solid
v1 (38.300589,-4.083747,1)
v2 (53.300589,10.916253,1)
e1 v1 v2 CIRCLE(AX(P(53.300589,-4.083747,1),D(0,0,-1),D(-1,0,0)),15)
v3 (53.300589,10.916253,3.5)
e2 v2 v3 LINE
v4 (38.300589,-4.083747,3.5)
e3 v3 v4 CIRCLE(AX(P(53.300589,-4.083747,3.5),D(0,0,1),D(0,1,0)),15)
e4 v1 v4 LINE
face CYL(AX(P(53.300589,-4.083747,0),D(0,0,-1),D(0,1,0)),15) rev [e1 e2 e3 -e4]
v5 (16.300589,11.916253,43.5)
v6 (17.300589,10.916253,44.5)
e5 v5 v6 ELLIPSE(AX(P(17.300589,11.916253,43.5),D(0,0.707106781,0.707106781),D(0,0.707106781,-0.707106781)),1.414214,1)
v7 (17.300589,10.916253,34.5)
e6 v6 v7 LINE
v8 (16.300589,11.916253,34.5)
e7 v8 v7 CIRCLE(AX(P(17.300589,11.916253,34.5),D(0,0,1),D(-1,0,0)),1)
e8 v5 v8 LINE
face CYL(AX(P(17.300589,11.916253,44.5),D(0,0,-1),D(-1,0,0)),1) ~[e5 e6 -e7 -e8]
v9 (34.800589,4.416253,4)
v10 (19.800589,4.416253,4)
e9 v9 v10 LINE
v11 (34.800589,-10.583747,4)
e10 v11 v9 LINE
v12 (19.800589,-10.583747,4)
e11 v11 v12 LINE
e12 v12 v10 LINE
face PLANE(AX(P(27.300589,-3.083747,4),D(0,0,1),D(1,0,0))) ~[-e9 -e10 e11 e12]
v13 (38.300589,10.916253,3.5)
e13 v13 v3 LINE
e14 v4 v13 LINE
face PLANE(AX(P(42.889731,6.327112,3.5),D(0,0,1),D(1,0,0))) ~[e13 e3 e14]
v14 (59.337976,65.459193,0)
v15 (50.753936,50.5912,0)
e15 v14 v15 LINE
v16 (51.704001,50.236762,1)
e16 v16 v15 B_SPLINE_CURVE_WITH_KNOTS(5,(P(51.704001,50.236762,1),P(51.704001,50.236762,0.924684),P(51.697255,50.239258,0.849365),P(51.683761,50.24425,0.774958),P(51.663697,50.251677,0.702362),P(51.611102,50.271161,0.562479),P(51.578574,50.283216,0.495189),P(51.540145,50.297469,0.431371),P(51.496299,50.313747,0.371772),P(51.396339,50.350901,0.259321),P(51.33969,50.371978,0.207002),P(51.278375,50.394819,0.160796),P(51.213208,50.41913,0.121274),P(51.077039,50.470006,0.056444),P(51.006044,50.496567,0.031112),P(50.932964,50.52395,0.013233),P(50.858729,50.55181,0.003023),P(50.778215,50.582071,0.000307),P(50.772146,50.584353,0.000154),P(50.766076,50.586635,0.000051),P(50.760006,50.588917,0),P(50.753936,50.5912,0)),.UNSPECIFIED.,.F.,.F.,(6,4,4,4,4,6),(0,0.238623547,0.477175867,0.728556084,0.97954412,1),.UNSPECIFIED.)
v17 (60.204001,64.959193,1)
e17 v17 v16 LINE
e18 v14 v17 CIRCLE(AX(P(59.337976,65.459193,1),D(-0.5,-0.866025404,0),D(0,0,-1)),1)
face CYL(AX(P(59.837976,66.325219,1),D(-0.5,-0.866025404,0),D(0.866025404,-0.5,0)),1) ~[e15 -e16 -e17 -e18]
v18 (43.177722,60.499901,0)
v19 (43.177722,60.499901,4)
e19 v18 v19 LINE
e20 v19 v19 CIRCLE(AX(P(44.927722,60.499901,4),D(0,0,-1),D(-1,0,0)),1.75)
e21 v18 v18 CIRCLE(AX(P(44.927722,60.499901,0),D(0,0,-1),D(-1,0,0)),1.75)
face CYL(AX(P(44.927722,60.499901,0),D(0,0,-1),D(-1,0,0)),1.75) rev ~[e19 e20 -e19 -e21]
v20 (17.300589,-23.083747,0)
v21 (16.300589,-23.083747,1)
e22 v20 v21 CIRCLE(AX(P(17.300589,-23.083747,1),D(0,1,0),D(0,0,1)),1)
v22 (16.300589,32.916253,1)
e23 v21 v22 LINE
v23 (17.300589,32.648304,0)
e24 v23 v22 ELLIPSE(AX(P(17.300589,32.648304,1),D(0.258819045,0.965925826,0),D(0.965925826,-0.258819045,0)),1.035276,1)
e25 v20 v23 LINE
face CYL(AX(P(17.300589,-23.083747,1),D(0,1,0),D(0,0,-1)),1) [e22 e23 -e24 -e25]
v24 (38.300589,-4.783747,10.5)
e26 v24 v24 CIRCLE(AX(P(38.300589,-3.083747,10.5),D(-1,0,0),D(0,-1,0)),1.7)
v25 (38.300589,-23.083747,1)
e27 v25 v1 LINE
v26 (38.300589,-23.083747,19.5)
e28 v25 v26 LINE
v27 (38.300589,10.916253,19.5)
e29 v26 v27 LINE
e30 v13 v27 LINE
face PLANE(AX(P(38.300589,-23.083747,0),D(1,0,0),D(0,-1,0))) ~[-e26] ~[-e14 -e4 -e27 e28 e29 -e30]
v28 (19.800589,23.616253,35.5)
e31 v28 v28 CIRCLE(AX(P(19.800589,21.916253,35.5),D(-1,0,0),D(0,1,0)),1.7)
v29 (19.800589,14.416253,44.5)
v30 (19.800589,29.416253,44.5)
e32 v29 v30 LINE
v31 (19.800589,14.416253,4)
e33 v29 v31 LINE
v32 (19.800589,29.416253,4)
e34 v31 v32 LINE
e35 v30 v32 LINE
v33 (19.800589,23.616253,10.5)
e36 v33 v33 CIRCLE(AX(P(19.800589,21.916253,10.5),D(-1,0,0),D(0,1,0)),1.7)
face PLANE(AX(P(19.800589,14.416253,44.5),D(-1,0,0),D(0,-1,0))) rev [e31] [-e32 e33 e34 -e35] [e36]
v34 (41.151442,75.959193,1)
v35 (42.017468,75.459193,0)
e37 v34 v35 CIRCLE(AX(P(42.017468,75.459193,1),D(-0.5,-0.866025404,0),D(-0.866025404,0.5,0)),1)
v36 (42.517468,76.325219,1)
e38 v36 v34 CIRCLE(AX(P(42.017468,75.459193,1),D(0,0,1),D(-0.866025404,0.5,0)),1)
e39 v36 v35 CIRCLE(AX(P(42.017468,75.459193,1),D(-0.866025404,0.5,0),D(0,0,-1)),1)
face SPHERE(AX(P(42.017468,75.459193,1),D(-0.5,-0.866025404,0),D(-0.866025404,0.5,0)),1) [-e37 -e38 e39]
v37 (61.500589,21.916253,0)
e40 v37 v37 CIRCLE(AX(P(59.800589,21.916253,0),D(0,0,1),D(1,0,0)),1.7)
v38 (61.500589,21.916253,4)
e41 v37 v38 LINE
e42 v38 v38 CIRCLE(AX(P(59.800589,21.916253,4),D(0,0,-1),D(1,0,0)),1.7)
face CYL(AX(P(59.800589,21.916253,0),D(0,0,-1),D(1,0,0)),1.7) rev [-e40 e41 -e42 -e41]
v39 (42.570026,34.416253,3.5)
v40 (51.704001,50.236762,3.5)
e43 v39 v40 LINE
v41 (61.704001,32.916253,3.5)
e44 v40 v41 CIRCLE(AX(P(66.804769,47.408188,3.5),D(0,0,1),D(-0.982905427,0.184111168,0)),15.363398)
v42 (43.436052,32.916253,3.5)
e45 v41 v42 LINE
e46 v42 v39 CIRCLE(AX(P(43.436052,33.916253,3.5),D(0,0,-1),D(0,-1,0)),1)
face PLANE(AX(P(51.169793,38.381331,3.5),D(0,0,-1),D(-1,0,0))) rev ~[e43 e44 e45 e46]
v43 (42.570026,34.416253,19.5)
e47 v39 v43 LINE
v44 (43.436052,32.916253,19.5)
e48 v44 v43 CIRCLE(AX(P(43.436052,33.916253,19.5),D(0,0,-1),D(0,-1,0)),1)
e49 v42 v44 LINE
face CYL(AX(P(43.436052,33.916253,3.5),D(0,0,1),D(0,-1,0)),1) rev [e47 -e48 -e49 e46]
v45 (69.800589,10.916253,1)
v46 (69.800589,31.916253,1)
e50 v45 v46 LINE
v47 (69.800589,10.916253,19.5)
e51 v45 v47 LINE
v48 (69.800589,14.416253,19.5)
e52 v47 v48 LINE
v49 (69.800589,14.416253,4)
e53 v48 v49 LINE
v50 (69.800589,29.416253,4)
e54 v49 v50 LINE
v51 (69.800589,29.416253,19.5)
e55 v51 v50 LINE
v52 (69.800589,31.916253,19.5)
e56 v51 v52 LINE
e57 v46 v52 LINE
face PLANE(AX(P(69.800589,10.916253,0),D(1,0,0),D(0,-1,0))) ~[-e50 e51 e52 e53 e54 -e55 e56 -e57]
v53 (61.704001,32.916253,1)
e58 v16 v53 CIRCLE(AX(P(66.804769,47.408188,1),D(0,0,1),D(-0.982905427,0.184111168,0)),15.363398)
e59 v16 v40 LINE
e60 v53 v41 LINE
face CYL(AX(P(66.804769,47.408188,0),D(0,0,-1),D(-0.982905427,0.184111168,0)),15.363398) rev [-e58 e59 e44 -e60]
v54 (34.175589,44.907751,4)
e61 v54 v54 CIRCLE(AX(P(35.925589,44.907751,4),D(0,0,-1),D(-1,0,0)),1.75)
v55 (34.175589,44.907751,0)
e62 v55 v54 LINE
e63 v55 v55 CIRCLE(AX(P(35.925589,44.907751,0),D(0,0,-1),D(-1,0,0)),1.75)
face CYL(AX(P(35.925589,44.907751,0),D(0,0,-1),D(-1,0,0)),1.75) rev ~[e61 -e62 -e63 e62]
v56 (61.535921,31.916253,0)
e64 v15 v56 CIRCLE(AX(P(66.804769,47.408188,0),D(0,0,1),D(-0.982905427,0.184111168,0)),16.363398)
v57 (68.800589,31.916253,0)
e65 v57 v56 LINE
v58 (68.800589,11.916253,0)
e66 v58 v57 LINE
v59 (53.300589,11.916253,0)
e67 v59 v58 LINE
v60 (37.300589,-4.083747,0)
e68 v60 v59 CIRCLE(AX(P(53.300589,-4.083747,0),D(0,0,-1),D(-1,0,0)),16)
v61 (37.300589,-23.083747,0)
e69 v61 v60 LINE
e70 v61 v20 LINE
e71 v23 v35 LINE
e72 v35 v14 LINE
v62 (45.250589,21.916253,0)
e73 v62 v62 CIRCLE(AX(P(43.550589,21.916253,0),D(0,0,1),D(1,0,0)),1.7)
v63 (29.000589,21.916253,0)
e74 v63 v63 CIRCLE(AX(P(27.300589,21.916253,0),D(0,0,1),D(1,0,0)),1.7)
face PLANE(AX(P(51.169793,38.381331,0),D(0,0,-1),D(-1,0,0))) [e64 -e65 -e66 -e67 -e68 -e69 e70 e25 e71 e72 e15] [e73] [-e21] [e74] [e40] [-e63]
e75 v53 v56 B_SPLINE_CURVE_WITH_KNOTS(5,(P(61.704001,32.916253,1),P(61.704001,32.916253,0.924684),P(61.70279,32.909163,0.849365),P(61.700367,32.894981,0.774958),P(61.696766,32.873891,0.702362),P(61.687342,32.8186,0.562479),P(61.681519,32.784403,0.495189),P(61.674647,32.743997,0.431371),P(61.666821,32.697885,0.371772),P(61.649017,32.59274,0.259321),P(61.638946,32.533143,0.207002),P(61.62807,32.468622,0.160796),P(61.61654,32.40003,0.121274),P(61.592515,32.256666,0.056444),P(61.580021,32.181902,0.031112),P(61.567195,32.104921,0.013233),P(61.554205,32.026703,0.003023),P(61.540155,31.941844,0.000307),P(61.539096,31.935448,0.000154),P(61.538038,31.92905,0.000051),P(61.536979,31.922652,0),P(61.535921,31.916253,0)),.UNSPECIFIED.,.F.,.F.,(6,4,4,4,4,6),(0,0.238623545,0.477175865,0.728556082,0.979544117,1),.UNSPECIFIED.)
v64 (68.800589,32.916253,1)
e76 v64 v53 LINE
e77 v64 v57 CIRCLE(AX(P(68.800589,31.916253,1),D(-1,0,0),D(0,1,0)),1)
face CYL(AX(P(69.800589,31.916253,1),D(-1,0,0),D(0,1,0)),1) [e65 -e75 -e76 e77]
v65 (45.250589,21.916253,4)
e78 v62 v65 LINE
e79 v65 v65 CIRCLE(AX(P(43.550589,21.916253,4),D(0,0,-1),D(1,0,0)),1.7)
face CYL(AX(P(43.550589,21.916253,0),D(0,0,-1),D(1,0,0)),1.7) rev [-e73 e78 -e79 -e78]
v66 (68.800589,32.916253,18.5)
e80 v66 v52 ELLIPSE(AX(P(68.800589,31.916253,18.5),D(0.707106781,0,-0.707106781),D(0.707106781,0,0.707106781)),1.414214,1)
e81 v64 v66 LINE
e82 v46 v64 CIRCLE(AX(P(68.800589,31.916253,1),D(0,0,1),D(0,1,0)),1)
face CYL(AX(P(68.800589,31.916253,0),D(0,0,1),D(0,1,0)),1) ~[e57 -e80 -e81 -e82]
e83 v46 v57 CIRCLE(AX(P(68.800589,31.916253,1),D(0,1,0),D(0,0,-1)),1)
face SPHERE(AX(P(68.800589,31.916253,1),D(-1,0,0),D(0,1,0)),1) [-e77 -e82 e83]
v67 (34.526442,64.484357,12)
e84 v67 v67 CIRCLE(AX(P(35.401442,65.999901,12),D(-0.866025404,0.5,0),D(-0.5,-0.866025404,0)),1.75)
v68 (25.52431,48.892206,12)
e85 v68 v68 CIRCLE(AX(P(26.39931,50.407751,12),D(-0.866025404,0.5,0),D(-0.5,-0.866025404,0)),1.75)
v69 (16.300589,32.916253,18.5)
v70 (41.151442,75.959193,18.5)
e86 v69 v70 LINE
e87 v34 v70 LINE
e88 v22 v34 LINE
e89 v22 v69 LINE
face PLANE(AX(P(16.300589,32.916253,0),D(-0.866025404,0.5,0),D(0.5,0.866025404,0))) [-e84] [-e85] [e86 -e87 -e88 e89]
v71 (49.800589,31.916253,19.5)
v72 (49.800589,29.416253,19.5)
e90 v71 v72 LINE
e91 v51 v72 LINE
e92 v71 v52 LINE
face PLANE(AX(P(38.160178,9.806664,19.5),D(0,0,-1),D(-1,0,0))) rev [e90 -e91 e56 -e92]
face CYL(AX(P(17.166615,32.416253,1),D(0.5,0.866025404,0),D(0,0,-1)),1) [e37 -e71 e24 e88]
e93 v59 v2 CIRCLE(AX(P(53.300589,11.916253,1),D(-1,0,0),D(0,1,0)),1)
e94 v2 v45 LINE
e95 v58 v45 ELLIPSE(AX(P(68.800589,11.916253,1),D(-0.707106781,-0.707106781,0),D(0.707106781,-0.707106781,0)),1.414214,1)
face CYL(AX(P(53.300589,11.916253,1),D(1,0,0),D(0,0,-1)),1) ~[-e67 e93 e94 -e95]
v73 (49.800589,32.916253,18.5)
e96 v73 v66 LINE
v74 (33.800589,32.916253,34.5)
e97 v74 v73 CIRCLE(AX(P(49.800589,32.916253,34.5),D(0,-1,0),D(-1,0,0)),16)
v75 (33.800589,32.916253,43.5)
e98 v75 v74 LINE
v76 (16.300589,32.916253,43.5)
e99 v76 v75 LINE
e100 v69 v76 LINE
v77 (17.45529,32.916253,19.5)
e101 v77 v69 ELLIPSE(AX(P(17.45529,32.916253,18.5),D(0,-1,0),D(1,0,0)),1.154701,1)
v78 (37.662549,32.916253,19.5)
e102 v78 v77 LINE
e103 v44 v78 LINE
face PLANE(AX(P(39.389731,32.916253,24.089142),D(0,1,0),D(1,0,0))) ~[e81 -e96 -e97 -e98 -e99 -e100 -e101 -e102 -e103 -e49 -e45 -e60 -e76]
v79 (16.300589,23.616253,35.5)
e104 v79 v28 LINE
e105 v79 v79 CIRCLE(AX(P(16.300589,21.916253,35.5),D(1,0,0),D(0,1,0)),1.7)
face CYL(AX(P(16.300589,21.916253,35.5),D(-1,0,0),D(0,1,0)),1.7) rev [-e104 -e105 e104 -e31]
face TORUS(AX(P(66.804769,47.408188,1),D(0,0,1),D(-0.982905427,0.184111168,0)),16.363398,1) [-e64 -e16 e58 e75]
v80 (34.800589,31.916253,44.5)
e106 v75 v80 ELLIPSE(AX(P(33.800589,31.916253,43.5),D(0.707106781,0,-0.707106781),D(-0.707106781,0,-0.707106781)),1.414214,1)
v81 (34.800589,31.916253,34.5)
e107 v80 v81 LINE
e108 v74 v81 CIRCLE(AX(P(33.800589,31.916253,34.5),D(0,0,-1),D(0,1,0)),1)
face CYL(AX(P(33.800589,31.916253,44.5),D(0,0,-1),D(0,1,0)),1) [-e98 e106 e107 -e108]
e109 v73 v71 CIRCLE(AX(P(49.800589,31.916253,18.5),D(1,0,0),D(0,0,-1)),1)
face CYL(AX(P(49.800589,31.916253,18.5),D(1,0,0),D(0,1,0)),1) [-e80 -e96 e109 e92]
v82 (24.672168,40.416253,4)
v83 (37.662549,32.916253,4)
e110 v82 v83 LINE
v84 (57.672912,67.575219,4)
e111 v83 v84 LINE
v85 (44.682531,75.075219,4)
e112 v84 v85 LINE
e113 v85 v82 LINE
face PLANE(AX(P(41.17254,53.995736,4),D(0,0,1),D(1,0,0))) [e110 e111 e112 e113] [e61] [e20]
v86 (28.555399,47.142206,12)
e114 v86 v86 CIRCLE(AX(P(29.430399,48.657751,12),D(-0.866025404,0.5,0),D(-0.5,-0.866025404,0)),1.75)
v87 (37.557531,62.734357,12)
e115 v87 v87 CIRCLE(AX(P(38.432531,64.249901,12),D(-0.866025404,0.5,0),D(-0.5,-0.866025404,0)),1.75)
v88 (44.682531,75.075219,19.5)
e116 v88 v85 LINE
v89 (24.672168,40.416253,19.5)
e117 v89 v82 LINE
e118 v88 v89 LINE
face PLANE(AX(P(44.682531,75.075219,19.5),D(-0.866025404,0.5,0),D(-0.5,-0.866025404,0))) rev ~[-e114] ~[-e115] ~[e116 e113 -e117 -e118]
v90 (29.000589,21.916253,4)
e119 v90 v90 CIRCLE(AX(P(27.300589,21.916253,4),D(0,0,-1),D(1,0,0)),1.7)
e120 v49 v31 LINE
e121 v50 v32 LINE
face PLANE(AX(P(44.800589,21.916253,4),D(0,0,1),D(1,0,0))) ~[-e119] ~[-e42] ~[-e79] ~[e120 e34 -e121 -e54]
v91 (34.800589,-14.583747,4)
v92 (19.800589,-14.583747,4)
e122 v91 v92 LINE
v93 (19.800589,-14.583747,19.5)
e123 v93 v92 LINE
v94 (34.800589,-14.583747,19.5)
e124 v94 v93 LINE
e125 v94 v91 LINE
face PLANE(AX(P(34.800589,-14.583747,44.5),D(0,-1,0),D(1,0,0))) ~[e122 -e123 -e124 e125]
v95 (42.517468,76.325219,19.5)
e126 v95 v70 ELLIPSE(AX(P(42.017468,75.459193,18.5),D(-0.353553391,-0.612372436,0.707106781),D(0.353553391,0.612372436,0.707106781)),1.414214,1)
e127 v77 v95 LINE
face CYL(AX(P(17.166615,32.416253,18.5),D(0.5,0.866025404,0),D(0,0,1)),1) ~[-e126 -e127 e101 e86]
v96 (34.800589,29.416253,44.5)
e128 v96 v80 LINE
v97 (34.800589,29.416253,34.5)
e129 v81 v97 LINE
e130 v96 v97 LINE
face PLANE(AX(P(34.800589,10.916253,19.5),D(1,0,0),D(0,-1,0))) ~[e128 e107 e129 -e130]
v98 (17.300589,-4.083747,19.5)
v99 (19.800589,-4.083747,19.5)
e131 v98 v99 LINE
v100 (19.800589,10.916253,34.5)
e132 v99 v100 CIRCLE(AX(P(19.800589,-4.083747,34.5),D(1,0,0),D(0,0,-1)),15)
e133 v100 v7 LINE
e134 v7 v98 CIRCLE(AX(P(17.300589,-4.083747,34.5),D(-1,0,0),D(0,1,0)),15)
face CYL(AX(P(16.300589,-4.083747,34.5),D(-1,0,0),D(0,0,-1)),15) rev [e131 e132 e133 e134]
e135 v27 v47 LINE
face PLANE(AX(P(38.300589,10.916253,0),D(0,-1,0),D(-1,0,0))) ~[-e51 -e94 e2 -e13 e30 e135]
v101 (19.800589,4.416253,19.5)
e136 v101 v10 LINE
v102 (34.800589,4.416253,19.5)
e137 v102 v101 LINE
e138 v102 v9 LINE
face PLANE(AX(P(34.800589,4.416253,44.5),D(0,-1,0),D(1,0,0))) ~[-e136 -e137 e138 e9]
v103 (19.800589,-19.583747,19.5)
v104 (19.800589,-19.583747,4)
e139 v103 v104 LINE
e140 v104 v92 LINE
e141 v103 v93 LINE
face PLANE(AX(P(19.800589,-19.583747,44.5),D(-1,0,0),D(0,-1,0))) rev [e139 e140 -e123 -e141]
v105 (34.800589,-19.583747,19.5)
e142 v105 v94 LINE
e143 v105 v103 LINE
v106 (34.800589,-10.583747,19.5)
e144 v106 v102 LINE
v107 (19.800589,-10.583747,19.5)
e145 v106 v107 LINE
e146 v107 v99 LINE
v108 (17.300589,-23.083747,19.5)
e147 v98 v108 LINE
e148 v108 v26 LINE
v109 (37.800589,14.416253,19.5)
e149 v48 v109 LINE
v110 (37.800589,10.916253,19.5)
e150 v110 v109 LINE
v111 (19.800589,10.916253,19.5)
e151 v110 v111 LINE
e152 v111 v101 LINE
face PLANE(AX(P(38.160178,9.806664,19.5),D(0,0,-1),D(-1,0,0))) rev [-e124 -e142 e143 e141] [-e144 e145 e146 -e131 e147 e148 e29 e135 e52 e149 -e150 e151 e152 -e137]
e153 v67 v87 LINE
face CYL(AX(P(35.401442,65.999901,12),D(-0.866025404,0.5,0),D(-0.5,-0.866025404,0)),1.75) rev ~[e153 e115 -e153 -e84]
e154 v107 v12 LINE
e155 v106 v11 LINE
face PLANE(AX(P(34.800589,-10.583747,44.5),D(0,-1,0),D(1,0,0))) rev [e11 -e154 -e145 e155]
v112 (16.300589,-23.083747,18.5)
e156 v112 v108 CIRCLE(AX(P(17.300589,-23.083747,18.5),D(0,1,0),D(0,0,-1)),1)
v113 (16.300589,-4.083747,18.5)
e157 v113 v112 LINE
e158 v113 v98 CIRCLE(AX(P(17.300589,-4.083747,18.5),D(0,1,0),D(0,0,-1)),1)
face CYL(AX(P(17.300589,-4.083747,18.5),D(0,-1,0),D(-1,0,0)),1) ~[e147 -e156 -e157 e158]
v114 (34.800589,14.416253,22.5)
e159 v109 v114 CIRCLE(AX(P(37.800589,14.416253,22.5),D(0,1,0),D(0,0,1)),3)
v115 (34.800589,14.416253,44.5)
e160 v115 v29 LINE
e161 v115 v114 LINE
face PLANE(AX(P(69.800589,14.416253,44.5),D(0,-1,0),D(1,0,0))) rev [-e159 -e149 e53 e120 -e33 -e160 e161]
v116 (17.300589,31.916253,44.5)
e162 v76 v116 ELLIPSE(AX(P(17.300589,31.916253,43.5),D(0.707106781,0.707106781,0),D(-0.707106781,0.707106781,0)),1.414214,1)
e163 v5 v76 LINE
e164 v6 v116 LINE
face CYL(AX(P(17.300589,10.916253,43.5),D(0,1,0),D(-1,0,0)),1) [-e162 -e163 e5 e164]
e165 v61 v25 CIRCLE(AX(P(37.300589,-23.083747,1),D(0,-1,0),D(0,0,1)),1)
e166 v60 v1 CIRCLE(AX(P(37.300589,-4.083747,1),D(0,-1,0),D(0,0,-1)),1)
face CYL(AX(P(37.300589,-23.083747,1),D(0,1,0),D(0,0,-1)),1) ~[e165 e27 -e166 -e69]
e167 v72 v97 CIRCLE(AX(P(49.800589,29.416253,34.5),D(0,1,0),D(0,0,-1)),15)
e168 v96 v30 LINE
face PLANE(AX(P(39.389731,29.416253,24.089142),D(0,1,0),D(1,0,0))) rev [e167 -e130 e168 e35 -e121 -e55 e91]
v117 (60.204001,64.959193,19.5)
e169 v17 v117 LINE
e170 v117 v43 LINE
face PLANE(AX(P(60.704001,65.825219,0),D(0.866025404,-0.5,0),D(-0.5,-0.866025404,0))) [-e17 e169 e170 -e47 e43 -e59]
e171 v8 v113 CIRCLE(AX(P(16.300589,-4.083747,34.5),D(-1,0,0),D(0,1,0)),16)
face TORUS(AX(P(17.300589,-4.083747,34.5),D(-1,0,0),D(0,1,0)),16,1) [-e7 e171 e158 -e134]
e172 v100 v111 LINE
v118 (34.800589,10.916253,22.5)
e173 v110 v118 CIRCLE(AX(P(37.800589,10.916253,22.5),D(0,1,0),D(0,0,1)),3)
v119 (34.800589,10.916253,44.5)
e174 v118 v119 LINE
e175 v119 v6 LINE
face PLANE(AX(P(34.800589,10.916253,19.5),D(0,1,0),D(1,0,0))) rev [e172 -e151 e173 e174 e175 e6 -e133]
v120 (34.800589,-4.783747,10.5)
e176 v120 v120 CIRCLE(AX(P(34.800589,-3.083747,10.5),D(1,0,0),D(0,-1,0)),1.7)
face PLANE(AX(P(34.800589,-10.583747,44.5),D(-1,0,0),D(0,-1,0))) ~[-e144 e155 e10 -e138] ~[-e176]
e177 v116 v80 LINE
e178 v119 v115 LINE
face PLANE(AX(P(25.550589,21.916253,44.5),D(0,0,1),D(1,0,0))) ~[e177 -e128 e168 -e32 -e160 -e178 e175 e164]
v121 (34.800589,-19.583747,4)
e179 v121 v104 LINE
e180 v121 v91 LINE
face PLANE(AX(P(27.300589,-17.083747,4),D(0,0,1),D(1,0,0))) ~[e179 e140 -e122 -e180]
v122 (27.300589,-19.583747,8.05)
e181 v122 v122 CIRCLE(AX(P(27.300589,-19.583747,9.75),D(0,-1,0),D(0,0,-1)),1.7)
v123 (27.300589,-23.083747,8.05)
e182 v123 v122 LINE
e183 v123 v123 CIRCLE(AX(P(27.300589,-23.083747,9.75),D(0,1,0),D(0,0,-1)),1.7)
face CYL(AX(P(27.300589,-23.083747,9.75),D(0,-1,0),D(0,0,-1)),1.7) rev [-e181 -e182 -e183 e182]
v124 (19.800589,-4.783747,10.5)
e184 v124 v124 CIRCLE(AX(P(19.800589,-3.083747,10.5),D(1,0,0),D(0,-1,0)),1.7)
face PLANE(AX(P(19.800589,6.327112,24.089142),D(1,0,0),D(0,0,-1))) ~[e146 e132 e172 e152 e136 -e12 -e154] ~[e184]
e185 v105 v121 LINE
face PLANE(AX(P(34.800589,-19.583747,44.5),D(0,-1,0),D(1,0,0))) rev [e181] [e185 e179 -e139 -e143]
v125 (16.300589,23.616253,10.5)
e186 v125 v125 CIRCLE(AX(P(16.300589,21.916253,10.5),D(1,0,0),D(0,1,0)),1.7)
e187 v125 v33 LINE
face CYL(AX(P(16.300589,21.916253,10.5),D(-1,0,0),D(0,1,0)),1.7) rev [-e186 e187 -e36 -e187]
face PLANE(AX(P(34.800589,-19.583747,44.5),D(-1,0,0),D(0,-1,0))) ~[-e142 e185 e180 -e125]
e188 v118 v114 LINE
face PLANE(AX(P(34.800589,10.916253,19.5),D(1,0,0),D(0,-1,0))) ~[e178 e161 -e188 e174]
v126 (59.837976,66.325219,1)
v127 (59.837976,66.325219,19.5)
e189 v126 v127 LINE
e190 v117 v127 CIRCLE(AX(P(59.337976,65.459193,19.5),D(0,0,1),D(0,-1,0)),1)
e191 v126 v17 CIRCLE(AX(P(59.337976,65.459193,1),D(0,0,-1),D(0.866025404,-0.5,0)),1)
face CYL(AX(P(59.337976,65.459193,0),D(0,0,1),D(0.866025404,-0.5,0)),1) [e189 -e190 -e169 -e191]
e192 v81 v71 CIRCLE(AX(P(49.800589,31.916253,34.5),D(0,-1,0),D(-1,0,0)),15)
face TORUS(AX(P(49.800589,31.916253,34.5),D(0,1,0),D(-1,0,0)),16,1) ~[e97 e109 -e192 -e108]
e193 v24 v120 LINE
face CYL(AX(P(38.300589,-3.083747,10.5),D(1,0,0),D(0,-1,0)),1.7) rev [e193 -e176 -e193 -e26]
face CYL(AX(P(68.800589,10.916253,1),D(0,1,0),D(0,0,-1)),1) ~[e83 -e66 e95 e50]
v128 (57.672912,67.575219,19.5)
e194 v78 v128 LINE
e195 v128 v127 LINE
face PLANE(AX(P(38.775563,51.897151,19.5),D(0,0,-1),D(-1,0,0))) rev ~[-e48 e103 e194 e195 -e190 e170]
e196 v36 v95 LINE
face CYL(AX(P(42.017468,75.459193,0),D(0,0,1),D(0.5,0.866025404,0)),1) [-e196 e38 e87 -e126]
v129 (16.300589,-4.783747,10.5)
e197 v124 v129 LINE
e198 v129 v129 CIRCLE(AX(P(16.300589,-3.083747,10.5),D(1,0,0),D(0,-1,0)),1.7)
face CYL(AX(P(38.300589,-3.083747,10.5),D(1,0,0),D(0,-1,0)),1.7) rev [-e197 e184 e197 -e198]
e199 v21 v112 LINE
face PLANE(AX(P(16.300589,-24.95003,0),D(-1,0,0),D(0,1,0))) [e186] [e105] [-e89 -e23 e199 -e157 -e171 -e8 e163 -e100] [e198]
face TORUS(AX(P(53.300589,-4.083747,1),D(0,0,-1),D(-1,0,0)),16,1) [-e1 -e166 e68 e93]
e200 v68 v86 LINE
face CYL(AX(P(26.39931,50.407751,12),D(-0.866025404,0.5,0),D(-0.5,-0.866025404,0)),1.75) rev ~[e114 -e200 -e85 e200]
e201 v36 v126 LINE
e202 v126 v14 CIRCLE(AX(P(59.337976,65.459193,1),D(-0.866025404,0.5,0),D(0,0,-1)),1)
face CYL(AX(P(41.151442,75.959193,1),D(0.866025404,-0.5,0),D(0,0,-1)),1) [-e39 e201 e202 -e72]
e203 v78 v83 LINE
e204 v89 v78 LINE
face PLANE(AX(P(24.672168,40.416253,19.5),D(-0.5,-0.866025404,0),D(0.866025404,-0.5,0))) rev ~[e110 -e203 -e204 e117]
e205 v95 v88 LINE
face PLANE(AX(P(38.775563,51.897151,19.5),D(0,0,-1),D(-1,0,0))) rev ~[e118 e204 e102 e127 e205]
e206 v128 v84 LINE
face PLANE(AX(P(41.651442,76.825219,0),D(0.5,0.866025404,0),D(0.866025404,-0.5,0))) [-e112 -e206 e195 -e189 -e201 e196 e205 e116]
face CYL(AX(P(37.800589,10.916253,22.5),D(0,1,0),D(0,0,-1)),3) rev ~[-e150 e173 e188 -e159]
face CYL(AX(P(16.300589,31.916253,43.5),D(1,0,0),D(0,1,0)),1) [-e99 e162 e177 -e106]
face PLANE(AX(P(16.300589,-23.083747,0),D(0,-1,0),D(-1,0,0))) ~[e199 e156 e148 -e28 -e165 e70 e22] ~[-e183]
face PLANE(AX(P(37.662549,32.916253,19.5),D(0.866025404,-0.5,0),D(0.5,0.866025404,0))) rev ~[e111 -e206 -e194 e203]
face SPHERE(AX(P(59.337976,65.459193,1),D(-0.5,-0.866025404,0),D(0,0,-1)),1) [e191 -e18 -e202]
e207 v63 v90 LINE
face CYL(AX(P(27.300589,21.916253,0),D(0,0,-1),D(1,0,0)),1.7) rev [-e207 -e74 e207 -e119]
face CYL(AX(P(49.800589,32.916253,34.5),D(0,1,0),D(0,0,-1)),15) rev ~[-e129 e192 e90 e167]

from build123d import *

# Parameters (mm, degrees)
BOSS_EXTRUDE1_DEPTH  = 19.5
SKETCH3_W            = 18.5
SKETCH3_H            = 22
BOSS_EXTRUDE2_DEPTH  = 25
SKETCH5_W            = 50
SKETCH5_H            = 15
SKETCH5_W_2          = 15
SKETCH5_H_2          = 5
CUT_EXTRUDE1_DEPTH   = 40.5
BOSS_EXTRUDE4_DEPTH  = 3.5
BOSS_EXTRUDE5_DEPTH  = 3.5
BOSS_EXTRUDE6_DEPTH  = 3.5
FILLET3_R            = 3
CUT_EXTRUDE3_DEPTH   = 1
SKETCH12_R           = 1.7
CUT_EXTRUDE4_DEPTH   = 5
SKETCH13_R           = 1.7
CUT_EXTRUDE5_DEPTH   = 45
SKETCH14_R           = 1.7
CUT_EXTRUDE6_DEPTH   = 45
SKETCH15_R           = 1.7
CUT_EXTRUDE7_DEPTH   = 4
FILLET3_OF_MIRROR2_R = 3
SKETCH16_W           = 70.294928241
SKETCH16_H           = 57.866283398
CUT_EXTRUDE8_DEPTH   = 72
BOSS_EXTRUDE7_DEPTH  = 19.5
CUT_EXTRUDE10_DEPTH  = 15.5
BOSS_EXTRUDE8_DEPTH  = 3.5
FILLET4_R            = 1
FILLET5_R            = 1
SKETCH24_R           = 1.75
CUT_EXTRUDE11_DEPTH  = 10
SKETCH25_R           = 1.75
CUT_EXTRUDE12_DEPTH  = 10


with BuildPart() as part:
    # Sketch1 → Boss-Extrude1 (new body)
    with BuildSketch(Plane.XY):
        Polygon((-5.699410772, 32.916253451), (16.300589228, 32.916253451), (16.300589228, -23.083746549), (-5.699410772, -23.083746549), (-5.699410772, 10.916253451), (-37.199410772, 10.916253451), (-37.199410772, 32.916253451), align=None)
    boss_extrude1 = extrude(amount=BOSS_EXTRUDE1_DEPTH)

    # Sketch3 → Boss-Extrude2 (add)
    with BuildSketch(Plane.XY.offset(19.5)):
        with Locations((7.050589228, 21.916253451)):
            Rectangle(SKETCH3_W, SKETCH3_H)
    boss_extrude2 = extrude(amount=BOSS_EXTRUDE2_DEPTH)

    # Sketch5 → Cut-Extrude1 (cut)
    with BuildSketch(Plane.XY.offset(44.5)):
        with Locations((-12.199410772, 21.916253451)):
            Rectangle(SKETCH5_W, SKETCH5_H)
        with Locations((5.300589228, -3.083746549)):
            Rectangle(SKETCH5_W_2, SKETCH5_H)
        with Locations((5.300589228, -17.083746549)):
            Rectangle(SKETCH5_W_2, SKETCH5_H_2)
    cut_extrude1 = extrude(amount=-CUT_EXTRUDE1_DEPTH, mode=Mode.SUBTRACT)

    # Sketch7 → Boss-Extrude4 (add)
    with BuildSketch(Plane(origin=(16.300589228, 0, 0), x_dir=(0, 0, -1), z_dir=(1, 0, 0))):
        with BuildLine():
            Line((-34.5, 10.916253451), (-19.5, 10.916253451))
            Line((-19.5, 10.916253451), (-19.5, -4.083746549))
            ThreePointArc((-19.5, -4.083746549), (-23.893398282, 6.522855169), (-34.5, 10.916253451))
        make_face()
    boss_extrude4 = extrude(amount=-BOSS_EXTRUDE4_DEPTH)

    # Sketch8 → Boss-Extrude5 (add)
    with BuildSketch(Plane(origin=(0, 0, 0), x_dir=(-1, 0, 0), z_dir=(0, 0, -1))):
        with BuildLine():
            Line((5.699410772, 10.916253451), (20.699410772, 10.916253451))
            ThreePointArc((20.699410772, 10.916253451), (10.092809055, 6.522855169), (5.699410772, -4.083746549))
            Line((5.699410772, -4.083746549), (5.699410772, 10.916253451))
        make_face()
    boss_extrude5 = extrude(amount=-BOSS_EXTRUDE5_DEPTH)

    # Sketch9 → Boss-Extrude6 (add)
    with BuildSketch(Plane(origin=(0, 32.916253451, 0), x_dir=(1, 0, 0), z_dir=(0, 1, 0))):
        with BuildLine():
            Line((-2.199410772, -34.5), (-2.199410772, -19.5))
            Line((-2.199410772, -19.5), (-17.199410772, -19.5))
            ThreePointArc((-17.199410772, -19.5), (-6.592809055, -23.893398282), (-2.199410772, -34.5))
        make_face()
    boss_extrude6 = extrude(amount=-BOSS_EXTRUDE6_DEPTH)

    # Fillet3
    fillet3_edges = [part.edges().sort_by_distance(p)[0] for p in [
        (-2.199410772, 12.666253451, 19.5),
    ]]
    fillet(fillet3_edges, radius=FILLET3_R)

    # Sketch11 → Cut-Extrude3 (cut)
    # profile 1 of 4: a face of its own
    with BuildSketch(Plane(origin=(0, 0, 0), x_dir=(-1, 0, 0), z_dir=(0, 0, -1))):
        Polygon((-10.800589228, -18.789996549), (-10.800589228, -16.838073472), (-2.43039692, -14.652977318), (-10.800589228, -12.463073472), (-10.800589228, -10.515958087), (1.199410772, -8.729900395), (1.199410772, -10.602496549), (-6.379916151, -11.729900395), (1.199410772, -13.715477318), (1.199410772, -15.597688857), (-6.379916151, -17.576054241), (1.199410772, -18.703458087), (1.199410772, -20.576054241), align=None)
    # profile 2 of 4: a face of its own
    with BuildSketch(Plane(origin=(0, 0, 0), x_dir=(-1, 0, 0), z_dir=(0, 0, -1))):
        with BuildLine():
            Line((-10.800589228, -7.991438857), (-10.800589228, -5.952977318))
            add(Edge.make_bspline(
                [(-10.800589228, -5.952977318), (-10.800005012, -5.818337024), (-10.798881276, -5.559357226), (-10.780939362, -5.185841664), (-10.756194453, -4.841644627), (-10.717588986, -4.528141475), (-10.670910939, -4.244422827), (-10.610297955, -3.991812577), (-10.542991354, -3.767135176), (-10.432899575, -3.510089545), (-10.261344606, -3.2204116), (-9.993854575, -2.916502166), (-9.674999978, -2.642644015), (-9.298421338, -2.412342144), (-8.876833149, -2.221736808), (-8.412796045, -2.089022583), (-7.914245505, -2.00467731), (-7.569376461, -1.995936272), (-7.391935381, -1.991438857)],
                knots=[0, 0, 0, 0, 1.067446855, 2.053227611, 2.964447842, 3.802928181, 4.55705831, 5.242813606, 5.861740442, 6.41401137, 7.456762865, 8.515266784, 9.610284097, 10.777391769, 12.003071174, 13.267653188, 14.594160368, 16, 16, 16, 16], degree=3))
            add(Edge.make_bspline(
                [(-7.391935381, -1.991438857), (-7.297355032, -1.992855248), (-7.111944506, -1.99563187), (-6.839545611, -2.016474255), (-6.57922187, -2.056818659), (-6.329385024, -2.104637483), (-6.092864844, -2.173393793), (-5.86736032, -2.254741183), (-5.654862929, -2.353204183), (-5.453365078, -2.465039747), (-5.262464902, -2.588608019), (-5.086843378, -2.732896484), (-4.9205107, -2.888692529), (-4.766123648, -3.059365613), (-4.626046251, -3.246963608), (-4.496602326, -3.448494847), (-4.377999142, -3.665222723), (-4.310704173, -3.817832702), (-4.276550766, -3.895285011)],
                knots=[0, 0, 0, 0, 1.163181294, 2.28024169, 3.356120165, 4.401649984, 5.406013808, 6.381787017, 7.347406326, 8.282525473, 9.21452408, 10.139462981, 11.073595085, 12.01554303, 12.965498088, 13.949545959, 14.959357709, 16, 16, 16, 16], degree=3))
            Line((-4.276550766, -3.895285011), (1.199410772, -1.452977318))
            Line((1.199410772, -1.452977318), (1.199410772, -3.541919626))
            Line((1.199410772, -3.541919626), (-4.031358458, -5.873650395))
            Line((-4.031358458, -5.873650395), (-4.031358458, -6.145285011))
            Line((-4.031358458, -6.145285011), (1.199410772, -6.145285011))
            Line((1.199410772, -6.145285011), (1.199410772, -7.991438857))
            Line((1.199410772, -7.991438857), (-10.800589228, -7.991438857))
        make_face()
        with BuildLine():
            Line((-6.185204612, -6.145285011), (-6.185204612, -5.515477318))
            add(Edge.make_bspline(
                [(-6.185204612, -5.515477318), (-6.186367141, -5.438550003), (-6.188596807, -5.291007573), (-6.198784481, -5.078941418), (-6.223636793, -4.886497292), (-6.255016899, -4.712471663), (-6.291026717, -4.555276318), (-6.342625913, -4.418389599), (-6.399049431, -4.298462814), (-6.489896288, -4.166118437), (-6.633796999, -4.027471922), (-6.856716063, -3.91397639), (-7.124487444, -3.84724369), (-7.317795964, -3.840947182), (-7.420781535, -3.837592703)],
                knots=[0, 0, 0, 0, 1.14443165, 2.194958024, 3.155864406, 4.02787753, 4.825710302, 5.549708663, 6.200008757, 6.791751392, 7.929772656, 9.129352395, 10.470655706, 12, 12, 12, 12], degree=3))
            add(Edge.make_bspline(
                [(-7.420781535, -3.837592703), (-7.484265153, -3.839856392), (-7.607360624, -3.844245712), (-7.785755229, -3.879686188), (-7.952879051, -3.933201989), (-8.103735349, -4.014031264), (-8.239800846, -4.109799367), (-8.356212547, -4.223260262), (-8.450592564, -4.353040951), (-8.531146795, -4.502587927), (-8.586059735, -4.694350085), (-8.620716321, -4.939833657), (-8.644326337, -5.246603017), (-8.645891807, -5.472154526), (-8.646743074, -5.594804241)],
                knots=[0, 0, 0, 0, 0.9241003, 1.791841178, 2.640927318, 3.471185814, 4.274581995, 5.058835706, 5.827024317, 6.605084504, 7.520888769, 8.714677486, 10.213517293, 12, 12, 12, 12], degree=3))
            Line((-8.646743074, -5.594804241), (-8.646743074, -6.145285011))
            Line((-8.646743074, -6.145285011), (-6.185204612, -6.145285011))
        make_face(mode=Mode.SUBTRACT)
    # profile 3 of 4: a face of its own
    with BuildSketch(Plane(origin=(0, 0, 0), x_dir=(-1, 0, 0), z_dir=(0, 0, -1))):
        with BuildLine():
            add(Edge.make_bspline(
                [(-1.262127689, -0.176054241), (-1.257647984, -0.104101941), (-1.248753835, 0.038754448), (-1.172545764, 0.242235867), (-1.05033496, 0.427832621), (-0.88404186, 0.590235666), (-0.687299125, 0.730105266), (-0.462023761, 0.828247267), (-0.217504351, 0.891566147), (-0.046993635, 0.897708021), (0.040756926, 0.900868836)],
                knots=[0, 0, 0, 0, 0.919349048, 1.825304879, 2.744940427, 3.746623331, 4.786044724, 5.819977252, 6.878086821, 8, 8, 8, 8], degree=3))
            add(Edge.make_bspline(
                [(0.040756926, 0.900868836), (0.128481887, 0.897613897), (0.299721778, 0.891260229), (0.545324854, 0.828809783), (0.771582895, 0.729449747), (0.970335119, 0.590396057), (1.138671939, 0.427821465), (1.264004419, 0.242957175), (1.339760461, 0.038678283), (1.348736151, -0.104127453), (1.353256926, -0.176054241)],
                knots=[0, 0, 0, 0, 1.117536417, 2.181440851, 3.211339843, 4.255104211, 5.260135653, 6.181815925, 7.084237479, 8, 8, 8, 8], degree=3))
            add(Edge.make_bspline(
                [(1.353256926, -0.176054241), (1.348770157, -0.248001687), (1.339861983, -0.390848436), (1.263364391, -0.595455675), (1.139460356, -0.781986068), (0.970956709, -0.945114294), (0.77080448, -1.081189928), (0.54542444, -1.181069939), (0.299695058, -1.243328016), (0.128472836, -1.249708594), (0.040756926, -1.252977318)],
                knots=[0, 0, 0, 0, 0.915447906, 1.817559426, 2.747445231, 3.752131388, 4.789763433, 5.819308596, 6.882847519, 8, 8, 8, 8], degree=3))
            add(Edge.make_bspline(
                [(0.040756926, -1.252977318), (-0.046984438, -1.249802679), (-0.217477284, -1.243633944), (-0.462123928, -1.180506316), (-0.686511891, -1.081845741), (-0.884668075, -0.944947749), (-1.051117925, -0.781983335), (-1.171904853, -0.594743665), (-1.248854997, -0.390923093), (-1.257681869, -0.248026694), (-1.262127689, -0.176054241)],
                knots=[0, 0, 0, 0, 1.121525552, 2.179269538, 3.212844836, 4.246063491, 5.247400307, 6.175325774, 7.080968592, 8, 8, 8, 8], degree=3))
        make_face()
    # profile 4 of 4: a face of its own
    with BuildSketch(Plane(origin=(0, 0, 0), x_dir=(-1, 0, 0), z_dir=(0, 0, -1))):
        with BuildLine():
            Line((-7.877512305, 3.639330374), (-7.877512305, 1.793176528))
            add(Edge.make_bspline(
                [(-7.877512305, 1.793176528), (-7.985104597, 1.806156245), (-8.194919789, 1.831467926), (-8.50062502, 1.89307865), (-8.789725475, 1.969009097), (-9.063857289, 2.060670567), (-9.32041803, 2.168002956), (-9.560895844, 2.292709709), (-9.787587098, 2.42930416), (-9.925017131, 2.537709574), (-9.99289692, 2.591253451)],
                knots=[0, 0, 0, 0, 1.13409845, 2.211599726, 3.261451197, 4.261463951, 5.235132031, 6.169264622, 7.095758548, 8, 8, 8, 8], degree=3))
            add(Edge.make_bspline(
                [(-9.99289692, 2.591253451), (-10.082013161, 2.667910273), (-10.256359415, 2.817881026), (-10.483761061, 3.07110519), (-10.676767562, 3.337669411), (-10.835123876, 3.619879277), (-10.958228421, 3.915924445), (-11.044683072, 4.227572925), (-11.099664631, 4.553240287), (-11.10537913, 4.776126179), (-11.108281535, 4.889330374)],
                knots=[0, 0, 0, 0, 1.065406432, 2.084352066, 3.078868942, 4.045367136, 5.013203651, 5.979674514, 6.9738726, 8, 8, 8, 8], degree=3))
            add(Edge.make_bspline(
                [(-11.108281535, 4.889330374), (-11.105554752, 4.990429502), (-11.100204953, 5.188780494), (-11.056686246, 5.480236578), (-10.97985421, 5.757907044), (-10.8818086, 6.026068289), (-10.745230943, 6.277428113), (-10.587175591, 6.520140361), (-10.396186865, 6.748620977), (-10.177194209, 6.959885993), (-9.943110555, 7.156839202), (-9.690759412, 7.324416021), (-9.43059281, 7.47074821), (-9.157422302, 7.588703888), (-8.873189212, 7.680392593), (-8.578388089, 7.744054748), (-8.273858918, 7.787935844), (-8.06677444, 7.791411893), (-7.96164692, 7.793176528)],
                knots=[0, 0, 0, 0, 1.018635126, 1.998506719, 2.96030997, 3.918683232, 4.868719089, 5.836268132, 6.834011598, 7.861887245, 8.899958098, 9.91230014, 10.909978245, 11.904579616, 12.905650751, 13.91466998, 14.941371293, 16, 16, 16, 16], degree=3))
            add(Edge.make_bspline(
                [(-7.96164692, 7.793176528), (-7.831571704, 7.7882504), (-7.575267724, 7.778543815), (-7.199658116, 7.710806724), (-6.842854452, 7.593710225), (-6.50564623, 7.43251906), (-6.191993909, 7.228071619), (-5.907939838, 6.979968911), (-5.654954295, 6.689672154), (-5.517272776, 6.469896674), (-5.447223843, 6.358080374)],
                knots=[0, 0, 0, 0, 1.027701034, 2.025011931, 3.004147813, 3.986880317, 4.970346872, 5.953160964, 6.958619193, 8, 8, 8, 8], degree=3))
            add(Edge.make_bspline(
                [(-5.447223843, 6.358080374), (-5.418934484, 6.430798423), (-5.362819656, 6.575042087), (-5.255412748, 6.779194324), (-5.134751997, 6.973329501), (-4.999067172, 7.154540458), (-4.847347238, 7.322970358), (-4.681616094, 7.478791827), (-4.500395305, 7.624150933), (-4.30375287, 7.755244697), (-4.095176448, 7.873355347), (-3.875726079, 7.97347104), (-3.648685489, 8.060719415), (-3.412791492, 8.133216192), (-3.166864793, 8.188590605), (-2.911254324, 8.225884056), (-2.647259211, 8.251365722), (-2.468118928, 8.253589988), (-2.377512305, 8.254714989)],
                knots=[0, 0, 0, 0, 0.971157749, 1.926390409, 2.867917292, 3.816032967, 4.741824403, 5.6878893, 6.646452846, 7.631864642, 8.628382992, 9.628642509, 10.633224323, 11.656081692, 12.699617594, 13.76949873, 14.871843985, 16, 16, 16, 16], degree=3))
            add(Edge.make_bspline(
                [(-2.377512305, 8.254714989), (-2.244325252, 8.252503818), (-1.981850533, 8.248146212), (-1.597044081, 8.197009582), (-1.226862615, 8.122689872), (-0.874542963, 8.009706698), (-0.536107314, 7.870492658), (-0.212201339, 7.699845341), (0.092892066, 7.493753909), (0.380575775, 7.261849568), (0.643411265, 7.006428676), (0.8765742, 6.732895346), (1.069672671, 6.437585756), (1.23223783, 6.128720843), (1.355158488, 5.799574581), (1.443839147, 5.455657192), (1.498563993, 5.093806224), (1.504216675, 4.847057422), (1.50710308, 4.721061143)],
                knots=[0, 0, 0, 0, 1.08934669, 2.146800001, 3.171892192, 4.175766193, 5.1695646, 6.164076811, 7.166278581, 8.178196077, 9.184573215, 10.16196427, 11.113242845, 12.066531174, 13.012937118, 13.981620827, 14.969363733, 16, 16, 16, 16], degree=3))
            add(Edge.make_bspline(
                [(1.50710308, 4.721061143), (1.504031919, 4.602279119), (1.498005885, 4.36921268), (1.44571629, 4.02762683), (1.362713421, 3.702437153), (1.243881772, 3.394298005), (1.091092441, 3.104692046), (0.906771997, 2.829859086), (0.687442467, 2.57259779), (0.434322499, 2.3350891), (0.15282569, 2.119255522), (-0.153407037, 1.926340908), (-0.483775783, 1.75924538), (-0.840338868, 1.624378739), (-1.217591782, 1.506817115), (-1.621739126, 1.421885121), (-2.049128635, 1.361769677), (-2.342880764, 1.341824077), (-2.49289692, 1.331638066)],
                knots=[0, 0, 0, 0, 0.974003266, 1.911126485, 2.827923683, 3.722775623, 4.613731572, 5.50894563, 6.432318302, 7.38099101, 8.351349308, 9.338047726, 10.346428225, 11.382873954, 12.462111462, 13.585146545, 14.766759469, 16, 16, 16, 16], degree=3))
            Line((-2.49289692, 1.331638066), (-2.49289692, 3.177791913))
            add(Edge.make_bspline(
                [(-2.49289692, 3.177791913), (-2.417425318, 3.188945376), (-2.270574462, 3.210647521), (-2.058705359, 3.256683558), (-1.861732034, 3.311165199), (-1.680044741, 3.376135049), (-1.514279405, 3.45120486), (-1.360798784, 3.532148117), (-1.223710633, 3.625749249), (-1.065384613, 3.762941693), (-0.896220111, 3.953356149), (-0.749458771, 4.217045491), (-0.662515335, 4.51137642), (-0.652102457, 4.7164657), (-0.646743074, 4.822022682)],
                knots=[0, 0, 0, 0, 1.004083628, 1.953722164, 2.852062002, 3.692886634, 4.490800013, 5.245942238, 5.974461452, 6.670088602, 8.000762069, 9.303976857, 10.612389357, 12, 12, 12, 12], degree=3))
            add(Edge.make_bspline(
                [(-0.646743074, 4.822022682), (-0.647864371, 4.878202331), (-0.650053976, 4.987906785), (-0.675076379, 5.149181645), (-0.716357012, 5.302683497), (-0.770574005, 5.45033855), (-0.844338553, 5.58810378), (-0.931901508, 5.719433893), (-1.034609515, 5.844770146), (-1.195110626, 5.995917646), (-1.416786421, 6.163242766), (-1.719322479, 6.30573827), (-2.050588673, 6.3928176), (-2.280814454, 6.403216349), (-2.39914692, 6.408561143)],
                knots=[0, 0, 0, 0, 0.766703657, 1.497175717, 2.221804895, 2.935192376, 3.640052165, 4.350243223, 5.088623085, 5.847082799, 7.357237736, 8.859920549, 10.386048059, 12, 12, 12, 12], degree=3))
            add(Edge.make_bspline(
                [(-2.39914692, 6.408561143), (-2.464945748, 6.406711942), (-2.594787133, 6.403062896), (-2.786195597, 6.374088866), (-2.969648465, 6.322755274), (-3.145763747, 6.253440485), (-3.312932079, 6.163011753), (-3.473227413, 6.054384045), (-3.62413007, 5.923172242), (-3.768170684, 5.775714059), (-3.898710135, 5.608114668), (-4.014720541, 5.423570124), (-4.109640596, 5.219059789), (-4.193220285, 4.999736952), (-4.254214347, 4.760765565), (-4.29872396, 4.505093902), (-4.332010414, 4.232310528), (-4.336655471, 4.044084373), (-4.339050766, 3.947022682)],
                knots=[0, 0, 0, 0, 0.899536996, 1.775063972, 2.638995881, 3.499655969, 4.357521698, 5.232774386, 6.141935922, 7.087285127, 8.047315231, 9.041502366, 10.060909586, 11.125312509, 12.246833879, 13.426779274, 14.673079445, 16, 16, 16, 16], degree=3))
            Line((-4.339050766, 3.947022682), (-6.339050766, 3.947022682))
            add(Edge.make_bspline(
                [(-6.339050766, 3.947022682), (-6.351211097, 4.070597942), (-6.374042407, 4.302613426), (-6.427589871, 4.624478183), (-6.497441604, 4.896812425), (-6.588065699, 5.121571579), (-6.694964612, 5.310796304), (-6.816990742, 5.474794656), (-6.9584857, 5.616776513), (-7.116669669, 5.733391795), (-7.285211073, 5.826558536), (-7.45907096, 5.899690982), (-7.641166228, 5.937102036), (-7.763594277, 5.943722311), (-7.824627689, 5.947022682)],
                knots=[0, 0, 0, 0, 1.613490305, 3.029366345, 4.236845818, 5.259854129, 6.169213254, 7.054399038, 7.908596932, 8.76463379, 9.599115534, 10.407455461, 11.206077139, 12, 12, 12, 12], degree=3))
            add(Edge.make_bspline(
                [(-7.824627689, 5.947022682), (-7.902708499, 5.94339984), (-8.054533682, 5.93635536), (-8.271474473, 5.879601033), (-8.4685132, 5.787571995), (-8.638517306, 5.657006158), (-8.780104567, 5.497937744), (-8.882578523, 5.311699797), (-8.945232074, 5.101614866), (-8.951293618, 4.953882443), (-8.954435381, 4.877311143)],
                knots=[0, 0, 0, 0, 1.073009827, 2.08642706, 3.062829201, 4.046239177, 5.014892964, 5.972187552, 6.948963055, 8, 8, 8, 8], degree=3))
            add(Edge.make_bspline(
                [(-8.954435381, 4.877311143), (-8.95071032, 4.808009077), (-8.94335375, 4.671145417), (-8.884755184, 4.47123759), (-8.789639268, 4.281474968), (-8.656940841, 4.105904867), (-8.497545942, 3.947245812), (-8.310497414, 3.816432348), (-8.104113715, 3.708690565), (-7.953735758, 3.662661532), (-7.877512305, 3.639330374)],
                knots=[0, 0, 0, 0, 0.942455657, 1.861242209, 2.81281304, 3.818879151, 4.845099048, 5.862404497, 6.916497371, 8, 8, 8, 8], degree=3))
        make_face()
    extrude(amount=-CUT_EXTRUDE3_DEPTH, mode=Mode.SUBTRACT)

    # Sketch12 → Cut-Extrude4 (cut)
    with BuildSketch(Plane(origin=(0, 0, 0), x_dir=(-1, 0, 0), z_dir=(0, 0, -1))):
        with Locations((-5.300589228, 21.916253451)):
            Circle(SKETCH12_R)
        with Locations((10.949410772, 21.916253451)):
            Circle(SKETCH12_R)
        with Locations((27.199410772, 21.916253451)):
            Circle(SKETCH12_R)
    cut_extrude4 = extrude(amount=-CUT_EXTRUDE4_DEPTH, mode=Mode.SUBTRACT)

    # Sketch13 → Cut-Extrude5 (cut)
    with BuildSketch(Plane.ZY.offset(5.699410772)):
        with Locations(Location((10.5, -3.083746549, 0), (0, 0, 270))):
            Circle(SKETCH13_R)
    cut_extrude5 = extrude(amount=-CUT_EXTRUDE5_DEPTH, mode=Mode.SUBTRACT)

    # Sketch14 → Cut-Extrude6 (cut)
    with BuildSketch(Plane(origin=(16.300589228, 0, 0), x_dir=(0, 0, -1), z_dir=(1, 0, 0))):
        with Locations(Location((-10.5, 21.916253451, 0), (0, 0, 90))):
            Circle(SKETCH14_R)
        with Locations(Location((-35.5, 21.916253451, 0), (0, 0, 90))):
            Circle(SKETCH14_R)
    cut_extrude6 = extrude(amount=-CUT_EXTRUDE6_DEPTH, mode=Mode.SUBTRACT)

    # Sketch15 → Cut-Extrude7 (cut)
    with BuildSketch(Plane.XZ.offset(23.083746549)):
        with Locations(Location((5.300589228, 9.75, 0), (0, 0, 270))):
            Circle(SKETCH15_R)
    cut_extrude7 = extrude(amount=-CUT_EXTRUDE7_DEPTH, mode=Mode.SUBTRACT)

    # Mirror2: Boss-Extrude1, Boss-Extrude2, Cut-Extrude1, Boss-Extrude4, Boss-Extrude5, Boss-Extrude6, Cut-Extrude4, Cut-Extrude5, Cut-Extrude6, Cut-Extrude7 across plane
    add(boss_extrude1.mirror(Plane(origin=(16.300589228, 32.916253451, 19.5), x_dir=(0, 0, 1), z_dir=(-1, 0, 0))))
    add(boss_extrude2.mirror(Plane(origin=(16.300589228, 32.916253451, 19.5), x_dir=(0, 0, 1), z_dir=(-1, 0, 0))))
    add(cut_extrude1.mirror(Plane(origin=(16.300589228, 32.916253451, 19.5), x_dir=(0, 0, 1), z_dir=(-1, 0, 0))), mode=Mode.SUBTRACT)
    add(boss_extrude4.mirror(Plane(origin=(16.300589228, 32.916253451, 19.5), x_dir=(0, 0, 1), z_dir=(-1, 0, 0))))
    add(boss_extrude5.mirror(Plane(origin=(16.300589228, 32.916253451, 19.5), x_dir=(0, 0, 1), z_dir=(-1, 0, 0))))
    add(boss_extrude6.mirror(Plane(origin=(16.300589228, 32.916253451, 19.5), x_dir=(0, 0, 1), z_dir=(-1, 0, 0))))
    add(cut_extrude4.mirror(Plane(origin=(16.300589228, 32.916253451, 19.5), x_dir=(0, 0, 1), z_dir=(-1, 0, 0))), mode=Mode.SUBTRACT)
    add(cut_extrude5.mirror(Plane(origin=(16.300589228, 32.916253451, 19.5), x_dir=(0, 0, 1), z_dir=(-1, 0, 0))), mode=Mode.SUBTRACT)
    add(cut_extrude6.mirror(Plane(origin=(16.300589228, 32.916253451, 19.5), x_dir=(0, 0, 1), z_dir=(-1, 0, 0))), mode=Mode.SUBTRACT)
    add(cut_extrude7.mirror(Plane(origin=(16.300589228, 32.916253451, 19.5), x_dir=(0, 0, 1), z_dir=(-1, 0, 0))), mode=Mode.SUBTRACT)

    # Fillet3 of Mirror2
    fillet3_of_mirror2_edges = [part.edges().sort_by_distance(p)[0] for p in [
        (34.800589228, 12.666253451, 19.5),
    ]]
    fillet(fillet3_of_mirror2_edges, radius=FILLET3_OF_MIRROR2_R)

    # Sketch16 → Cut-Extrude8 (cut)
    with BuildSketch(Plane(origin=(0, 0, 0), x_dir=(-1, 0, 0), z_dir=(0, 0, -1))):
        with Locations((18.846874893, 3.983111752)):
            Rectangle(SKETCH16_W, SKETCH16_H)
    extrude(amount=-CUT_EXTRUDE8_DEPTH, mode=Mode.SUBTRACT)

    # Sketch21 → Boss-Extrude7 (add)
    with BuildSketch(Plane(origin=(0, 0, 0), x_dir=(-1, 0, 0), z_dir=(0, 0, -1))):
        Polygon((-16.300589228, 32.916253451), (-41.651442189, 76.825218795), (-60.704001072, 65.825218795), (-41.704001072, 32.916253451), align=None)
    extrude(amount=-BOSS_EXTRUDE7_DEPTH)

    # Sketch22 → Cut-Extrude10 (cut)
    with BuildSketch(Plane.XY.offset(19.5)):
        Polygon((44.682531102, 75.075218795), (24.672168131, 40.416253451), (37.662549188, 32.916253451), (57.672912159, 67.575218795), align=None)
    extrude(amount=-CUT_EXTRUDE10_DEPTH, mode=Mode.SUBTRACT)

    # Sketch23 → Boss-Extrude8 (add)
    with BuildSketch(Plane(origin=(0, 0, 0), x_dir=(-1, 0, 0), z_dir=(0, 0, -1))):
        with BuildLine():
            Line((-61.704001072, 32.916253451), (-41.704001072, 32.916253451))
            Line((-41.704001072, 32.916253451), (-51.704001072, 50.236761527))
            ThreePointArc((-51.704001072, 50.236761527), (-53.499675413, 39.726489207), (-61.704001072, 32.916253451))
        make_face()
    extrude(amount=-BOSS_EXTRUDE8_DEPTH)

    # Fillet4
    fillet4_edges = [part.edges().sort_by_distance(p)[0] for p in [
        (16.300589228, 10.916253451, 39.5),
        (16.300589228, 6.522855169, 23.893398282),
        (61.550589228, 10.916253451, 0),
        (42.69398751, 6.522855169, 0),
        (59.800589228, 32.916253451, 19.5),
        (34.800589228, 32.916253451, 39.5),
        (28.976015708, 54.870736123, 19.5),
        (56.204001072, 58.030990161, 0),
        (65.75229515, 32.916253451, 0),
        (53.499675413, 39.726489207, 0),
        (28.976015708, 54.870736123, 0),
        (16.300589228, -13.583746549, 19.5),
        (16.300589228, 4.916253451, 0),
        (38.300589228, -13.583746549, 0),
        (69.800589228, 32.916253451, 9.75),
        (69.800589228, 21.916253451, 0),
        (16.300589228, 21.916253451, 44.5),
        (39.19398751, 32.916253451, 23.893398282),
        (25.550589228, 32.916253451, 44.5),
        (41.651442189, 76.825218795, 9.75),
        (51.17772163, 71.325218795, 0),
        (60.704001072, 65.825218795, 9.75),
    ]]
    fillet(fillet4_edges, radius=FILLET4_R)

    # Fillet5
    fillet5_edges = [part.edges().sort_by_distance(p)[0] for p in [
        (41.704001072, 32.916253451, 11.5),
    ]]
    fillet(fillet5_edges, radius=FILLET5_R)

    # Sketch24 → Cut-Extrude11 (cut)
    with BuildSketch(Plane(origin=(-2.027713922, 1.170701179, 0), x_dir=(0, 0, 1), z_dir=(-0.8660254037844363, 0.5000000000000043, 0))):
        with Locations(Location((12, 74.858312222, 0), (0, 0, 270))):
            Circle(SKETCH24_R)
        with Locations(Location((12, 56.854047417, 0), (0, 0, 270))):
            Circle(SKETCH24_R)
    extrude(amount=-CUT_EXTRUDE11_DEPTH, mode=Mode.SUBTRACT)

    # Sketch25 → Cut-Extrude12 (cut)
    with BuildSketch(Plane(origin=(0, 0, 0), x_dir=(-1, 0, 0), z_dir=(0, 0, -1))):
        with Locations((-44.92772163, 60.499901248)):
            Circle(SKETCH25_R)
        with Locations((-35.925589228, 44.90775055)):
            Circle(SKETCH25_R)
    extrude(amount=-CUT_EXTRUDE12_DEPTH, mode=Mode.SUBTRACT)


solid = part.part
